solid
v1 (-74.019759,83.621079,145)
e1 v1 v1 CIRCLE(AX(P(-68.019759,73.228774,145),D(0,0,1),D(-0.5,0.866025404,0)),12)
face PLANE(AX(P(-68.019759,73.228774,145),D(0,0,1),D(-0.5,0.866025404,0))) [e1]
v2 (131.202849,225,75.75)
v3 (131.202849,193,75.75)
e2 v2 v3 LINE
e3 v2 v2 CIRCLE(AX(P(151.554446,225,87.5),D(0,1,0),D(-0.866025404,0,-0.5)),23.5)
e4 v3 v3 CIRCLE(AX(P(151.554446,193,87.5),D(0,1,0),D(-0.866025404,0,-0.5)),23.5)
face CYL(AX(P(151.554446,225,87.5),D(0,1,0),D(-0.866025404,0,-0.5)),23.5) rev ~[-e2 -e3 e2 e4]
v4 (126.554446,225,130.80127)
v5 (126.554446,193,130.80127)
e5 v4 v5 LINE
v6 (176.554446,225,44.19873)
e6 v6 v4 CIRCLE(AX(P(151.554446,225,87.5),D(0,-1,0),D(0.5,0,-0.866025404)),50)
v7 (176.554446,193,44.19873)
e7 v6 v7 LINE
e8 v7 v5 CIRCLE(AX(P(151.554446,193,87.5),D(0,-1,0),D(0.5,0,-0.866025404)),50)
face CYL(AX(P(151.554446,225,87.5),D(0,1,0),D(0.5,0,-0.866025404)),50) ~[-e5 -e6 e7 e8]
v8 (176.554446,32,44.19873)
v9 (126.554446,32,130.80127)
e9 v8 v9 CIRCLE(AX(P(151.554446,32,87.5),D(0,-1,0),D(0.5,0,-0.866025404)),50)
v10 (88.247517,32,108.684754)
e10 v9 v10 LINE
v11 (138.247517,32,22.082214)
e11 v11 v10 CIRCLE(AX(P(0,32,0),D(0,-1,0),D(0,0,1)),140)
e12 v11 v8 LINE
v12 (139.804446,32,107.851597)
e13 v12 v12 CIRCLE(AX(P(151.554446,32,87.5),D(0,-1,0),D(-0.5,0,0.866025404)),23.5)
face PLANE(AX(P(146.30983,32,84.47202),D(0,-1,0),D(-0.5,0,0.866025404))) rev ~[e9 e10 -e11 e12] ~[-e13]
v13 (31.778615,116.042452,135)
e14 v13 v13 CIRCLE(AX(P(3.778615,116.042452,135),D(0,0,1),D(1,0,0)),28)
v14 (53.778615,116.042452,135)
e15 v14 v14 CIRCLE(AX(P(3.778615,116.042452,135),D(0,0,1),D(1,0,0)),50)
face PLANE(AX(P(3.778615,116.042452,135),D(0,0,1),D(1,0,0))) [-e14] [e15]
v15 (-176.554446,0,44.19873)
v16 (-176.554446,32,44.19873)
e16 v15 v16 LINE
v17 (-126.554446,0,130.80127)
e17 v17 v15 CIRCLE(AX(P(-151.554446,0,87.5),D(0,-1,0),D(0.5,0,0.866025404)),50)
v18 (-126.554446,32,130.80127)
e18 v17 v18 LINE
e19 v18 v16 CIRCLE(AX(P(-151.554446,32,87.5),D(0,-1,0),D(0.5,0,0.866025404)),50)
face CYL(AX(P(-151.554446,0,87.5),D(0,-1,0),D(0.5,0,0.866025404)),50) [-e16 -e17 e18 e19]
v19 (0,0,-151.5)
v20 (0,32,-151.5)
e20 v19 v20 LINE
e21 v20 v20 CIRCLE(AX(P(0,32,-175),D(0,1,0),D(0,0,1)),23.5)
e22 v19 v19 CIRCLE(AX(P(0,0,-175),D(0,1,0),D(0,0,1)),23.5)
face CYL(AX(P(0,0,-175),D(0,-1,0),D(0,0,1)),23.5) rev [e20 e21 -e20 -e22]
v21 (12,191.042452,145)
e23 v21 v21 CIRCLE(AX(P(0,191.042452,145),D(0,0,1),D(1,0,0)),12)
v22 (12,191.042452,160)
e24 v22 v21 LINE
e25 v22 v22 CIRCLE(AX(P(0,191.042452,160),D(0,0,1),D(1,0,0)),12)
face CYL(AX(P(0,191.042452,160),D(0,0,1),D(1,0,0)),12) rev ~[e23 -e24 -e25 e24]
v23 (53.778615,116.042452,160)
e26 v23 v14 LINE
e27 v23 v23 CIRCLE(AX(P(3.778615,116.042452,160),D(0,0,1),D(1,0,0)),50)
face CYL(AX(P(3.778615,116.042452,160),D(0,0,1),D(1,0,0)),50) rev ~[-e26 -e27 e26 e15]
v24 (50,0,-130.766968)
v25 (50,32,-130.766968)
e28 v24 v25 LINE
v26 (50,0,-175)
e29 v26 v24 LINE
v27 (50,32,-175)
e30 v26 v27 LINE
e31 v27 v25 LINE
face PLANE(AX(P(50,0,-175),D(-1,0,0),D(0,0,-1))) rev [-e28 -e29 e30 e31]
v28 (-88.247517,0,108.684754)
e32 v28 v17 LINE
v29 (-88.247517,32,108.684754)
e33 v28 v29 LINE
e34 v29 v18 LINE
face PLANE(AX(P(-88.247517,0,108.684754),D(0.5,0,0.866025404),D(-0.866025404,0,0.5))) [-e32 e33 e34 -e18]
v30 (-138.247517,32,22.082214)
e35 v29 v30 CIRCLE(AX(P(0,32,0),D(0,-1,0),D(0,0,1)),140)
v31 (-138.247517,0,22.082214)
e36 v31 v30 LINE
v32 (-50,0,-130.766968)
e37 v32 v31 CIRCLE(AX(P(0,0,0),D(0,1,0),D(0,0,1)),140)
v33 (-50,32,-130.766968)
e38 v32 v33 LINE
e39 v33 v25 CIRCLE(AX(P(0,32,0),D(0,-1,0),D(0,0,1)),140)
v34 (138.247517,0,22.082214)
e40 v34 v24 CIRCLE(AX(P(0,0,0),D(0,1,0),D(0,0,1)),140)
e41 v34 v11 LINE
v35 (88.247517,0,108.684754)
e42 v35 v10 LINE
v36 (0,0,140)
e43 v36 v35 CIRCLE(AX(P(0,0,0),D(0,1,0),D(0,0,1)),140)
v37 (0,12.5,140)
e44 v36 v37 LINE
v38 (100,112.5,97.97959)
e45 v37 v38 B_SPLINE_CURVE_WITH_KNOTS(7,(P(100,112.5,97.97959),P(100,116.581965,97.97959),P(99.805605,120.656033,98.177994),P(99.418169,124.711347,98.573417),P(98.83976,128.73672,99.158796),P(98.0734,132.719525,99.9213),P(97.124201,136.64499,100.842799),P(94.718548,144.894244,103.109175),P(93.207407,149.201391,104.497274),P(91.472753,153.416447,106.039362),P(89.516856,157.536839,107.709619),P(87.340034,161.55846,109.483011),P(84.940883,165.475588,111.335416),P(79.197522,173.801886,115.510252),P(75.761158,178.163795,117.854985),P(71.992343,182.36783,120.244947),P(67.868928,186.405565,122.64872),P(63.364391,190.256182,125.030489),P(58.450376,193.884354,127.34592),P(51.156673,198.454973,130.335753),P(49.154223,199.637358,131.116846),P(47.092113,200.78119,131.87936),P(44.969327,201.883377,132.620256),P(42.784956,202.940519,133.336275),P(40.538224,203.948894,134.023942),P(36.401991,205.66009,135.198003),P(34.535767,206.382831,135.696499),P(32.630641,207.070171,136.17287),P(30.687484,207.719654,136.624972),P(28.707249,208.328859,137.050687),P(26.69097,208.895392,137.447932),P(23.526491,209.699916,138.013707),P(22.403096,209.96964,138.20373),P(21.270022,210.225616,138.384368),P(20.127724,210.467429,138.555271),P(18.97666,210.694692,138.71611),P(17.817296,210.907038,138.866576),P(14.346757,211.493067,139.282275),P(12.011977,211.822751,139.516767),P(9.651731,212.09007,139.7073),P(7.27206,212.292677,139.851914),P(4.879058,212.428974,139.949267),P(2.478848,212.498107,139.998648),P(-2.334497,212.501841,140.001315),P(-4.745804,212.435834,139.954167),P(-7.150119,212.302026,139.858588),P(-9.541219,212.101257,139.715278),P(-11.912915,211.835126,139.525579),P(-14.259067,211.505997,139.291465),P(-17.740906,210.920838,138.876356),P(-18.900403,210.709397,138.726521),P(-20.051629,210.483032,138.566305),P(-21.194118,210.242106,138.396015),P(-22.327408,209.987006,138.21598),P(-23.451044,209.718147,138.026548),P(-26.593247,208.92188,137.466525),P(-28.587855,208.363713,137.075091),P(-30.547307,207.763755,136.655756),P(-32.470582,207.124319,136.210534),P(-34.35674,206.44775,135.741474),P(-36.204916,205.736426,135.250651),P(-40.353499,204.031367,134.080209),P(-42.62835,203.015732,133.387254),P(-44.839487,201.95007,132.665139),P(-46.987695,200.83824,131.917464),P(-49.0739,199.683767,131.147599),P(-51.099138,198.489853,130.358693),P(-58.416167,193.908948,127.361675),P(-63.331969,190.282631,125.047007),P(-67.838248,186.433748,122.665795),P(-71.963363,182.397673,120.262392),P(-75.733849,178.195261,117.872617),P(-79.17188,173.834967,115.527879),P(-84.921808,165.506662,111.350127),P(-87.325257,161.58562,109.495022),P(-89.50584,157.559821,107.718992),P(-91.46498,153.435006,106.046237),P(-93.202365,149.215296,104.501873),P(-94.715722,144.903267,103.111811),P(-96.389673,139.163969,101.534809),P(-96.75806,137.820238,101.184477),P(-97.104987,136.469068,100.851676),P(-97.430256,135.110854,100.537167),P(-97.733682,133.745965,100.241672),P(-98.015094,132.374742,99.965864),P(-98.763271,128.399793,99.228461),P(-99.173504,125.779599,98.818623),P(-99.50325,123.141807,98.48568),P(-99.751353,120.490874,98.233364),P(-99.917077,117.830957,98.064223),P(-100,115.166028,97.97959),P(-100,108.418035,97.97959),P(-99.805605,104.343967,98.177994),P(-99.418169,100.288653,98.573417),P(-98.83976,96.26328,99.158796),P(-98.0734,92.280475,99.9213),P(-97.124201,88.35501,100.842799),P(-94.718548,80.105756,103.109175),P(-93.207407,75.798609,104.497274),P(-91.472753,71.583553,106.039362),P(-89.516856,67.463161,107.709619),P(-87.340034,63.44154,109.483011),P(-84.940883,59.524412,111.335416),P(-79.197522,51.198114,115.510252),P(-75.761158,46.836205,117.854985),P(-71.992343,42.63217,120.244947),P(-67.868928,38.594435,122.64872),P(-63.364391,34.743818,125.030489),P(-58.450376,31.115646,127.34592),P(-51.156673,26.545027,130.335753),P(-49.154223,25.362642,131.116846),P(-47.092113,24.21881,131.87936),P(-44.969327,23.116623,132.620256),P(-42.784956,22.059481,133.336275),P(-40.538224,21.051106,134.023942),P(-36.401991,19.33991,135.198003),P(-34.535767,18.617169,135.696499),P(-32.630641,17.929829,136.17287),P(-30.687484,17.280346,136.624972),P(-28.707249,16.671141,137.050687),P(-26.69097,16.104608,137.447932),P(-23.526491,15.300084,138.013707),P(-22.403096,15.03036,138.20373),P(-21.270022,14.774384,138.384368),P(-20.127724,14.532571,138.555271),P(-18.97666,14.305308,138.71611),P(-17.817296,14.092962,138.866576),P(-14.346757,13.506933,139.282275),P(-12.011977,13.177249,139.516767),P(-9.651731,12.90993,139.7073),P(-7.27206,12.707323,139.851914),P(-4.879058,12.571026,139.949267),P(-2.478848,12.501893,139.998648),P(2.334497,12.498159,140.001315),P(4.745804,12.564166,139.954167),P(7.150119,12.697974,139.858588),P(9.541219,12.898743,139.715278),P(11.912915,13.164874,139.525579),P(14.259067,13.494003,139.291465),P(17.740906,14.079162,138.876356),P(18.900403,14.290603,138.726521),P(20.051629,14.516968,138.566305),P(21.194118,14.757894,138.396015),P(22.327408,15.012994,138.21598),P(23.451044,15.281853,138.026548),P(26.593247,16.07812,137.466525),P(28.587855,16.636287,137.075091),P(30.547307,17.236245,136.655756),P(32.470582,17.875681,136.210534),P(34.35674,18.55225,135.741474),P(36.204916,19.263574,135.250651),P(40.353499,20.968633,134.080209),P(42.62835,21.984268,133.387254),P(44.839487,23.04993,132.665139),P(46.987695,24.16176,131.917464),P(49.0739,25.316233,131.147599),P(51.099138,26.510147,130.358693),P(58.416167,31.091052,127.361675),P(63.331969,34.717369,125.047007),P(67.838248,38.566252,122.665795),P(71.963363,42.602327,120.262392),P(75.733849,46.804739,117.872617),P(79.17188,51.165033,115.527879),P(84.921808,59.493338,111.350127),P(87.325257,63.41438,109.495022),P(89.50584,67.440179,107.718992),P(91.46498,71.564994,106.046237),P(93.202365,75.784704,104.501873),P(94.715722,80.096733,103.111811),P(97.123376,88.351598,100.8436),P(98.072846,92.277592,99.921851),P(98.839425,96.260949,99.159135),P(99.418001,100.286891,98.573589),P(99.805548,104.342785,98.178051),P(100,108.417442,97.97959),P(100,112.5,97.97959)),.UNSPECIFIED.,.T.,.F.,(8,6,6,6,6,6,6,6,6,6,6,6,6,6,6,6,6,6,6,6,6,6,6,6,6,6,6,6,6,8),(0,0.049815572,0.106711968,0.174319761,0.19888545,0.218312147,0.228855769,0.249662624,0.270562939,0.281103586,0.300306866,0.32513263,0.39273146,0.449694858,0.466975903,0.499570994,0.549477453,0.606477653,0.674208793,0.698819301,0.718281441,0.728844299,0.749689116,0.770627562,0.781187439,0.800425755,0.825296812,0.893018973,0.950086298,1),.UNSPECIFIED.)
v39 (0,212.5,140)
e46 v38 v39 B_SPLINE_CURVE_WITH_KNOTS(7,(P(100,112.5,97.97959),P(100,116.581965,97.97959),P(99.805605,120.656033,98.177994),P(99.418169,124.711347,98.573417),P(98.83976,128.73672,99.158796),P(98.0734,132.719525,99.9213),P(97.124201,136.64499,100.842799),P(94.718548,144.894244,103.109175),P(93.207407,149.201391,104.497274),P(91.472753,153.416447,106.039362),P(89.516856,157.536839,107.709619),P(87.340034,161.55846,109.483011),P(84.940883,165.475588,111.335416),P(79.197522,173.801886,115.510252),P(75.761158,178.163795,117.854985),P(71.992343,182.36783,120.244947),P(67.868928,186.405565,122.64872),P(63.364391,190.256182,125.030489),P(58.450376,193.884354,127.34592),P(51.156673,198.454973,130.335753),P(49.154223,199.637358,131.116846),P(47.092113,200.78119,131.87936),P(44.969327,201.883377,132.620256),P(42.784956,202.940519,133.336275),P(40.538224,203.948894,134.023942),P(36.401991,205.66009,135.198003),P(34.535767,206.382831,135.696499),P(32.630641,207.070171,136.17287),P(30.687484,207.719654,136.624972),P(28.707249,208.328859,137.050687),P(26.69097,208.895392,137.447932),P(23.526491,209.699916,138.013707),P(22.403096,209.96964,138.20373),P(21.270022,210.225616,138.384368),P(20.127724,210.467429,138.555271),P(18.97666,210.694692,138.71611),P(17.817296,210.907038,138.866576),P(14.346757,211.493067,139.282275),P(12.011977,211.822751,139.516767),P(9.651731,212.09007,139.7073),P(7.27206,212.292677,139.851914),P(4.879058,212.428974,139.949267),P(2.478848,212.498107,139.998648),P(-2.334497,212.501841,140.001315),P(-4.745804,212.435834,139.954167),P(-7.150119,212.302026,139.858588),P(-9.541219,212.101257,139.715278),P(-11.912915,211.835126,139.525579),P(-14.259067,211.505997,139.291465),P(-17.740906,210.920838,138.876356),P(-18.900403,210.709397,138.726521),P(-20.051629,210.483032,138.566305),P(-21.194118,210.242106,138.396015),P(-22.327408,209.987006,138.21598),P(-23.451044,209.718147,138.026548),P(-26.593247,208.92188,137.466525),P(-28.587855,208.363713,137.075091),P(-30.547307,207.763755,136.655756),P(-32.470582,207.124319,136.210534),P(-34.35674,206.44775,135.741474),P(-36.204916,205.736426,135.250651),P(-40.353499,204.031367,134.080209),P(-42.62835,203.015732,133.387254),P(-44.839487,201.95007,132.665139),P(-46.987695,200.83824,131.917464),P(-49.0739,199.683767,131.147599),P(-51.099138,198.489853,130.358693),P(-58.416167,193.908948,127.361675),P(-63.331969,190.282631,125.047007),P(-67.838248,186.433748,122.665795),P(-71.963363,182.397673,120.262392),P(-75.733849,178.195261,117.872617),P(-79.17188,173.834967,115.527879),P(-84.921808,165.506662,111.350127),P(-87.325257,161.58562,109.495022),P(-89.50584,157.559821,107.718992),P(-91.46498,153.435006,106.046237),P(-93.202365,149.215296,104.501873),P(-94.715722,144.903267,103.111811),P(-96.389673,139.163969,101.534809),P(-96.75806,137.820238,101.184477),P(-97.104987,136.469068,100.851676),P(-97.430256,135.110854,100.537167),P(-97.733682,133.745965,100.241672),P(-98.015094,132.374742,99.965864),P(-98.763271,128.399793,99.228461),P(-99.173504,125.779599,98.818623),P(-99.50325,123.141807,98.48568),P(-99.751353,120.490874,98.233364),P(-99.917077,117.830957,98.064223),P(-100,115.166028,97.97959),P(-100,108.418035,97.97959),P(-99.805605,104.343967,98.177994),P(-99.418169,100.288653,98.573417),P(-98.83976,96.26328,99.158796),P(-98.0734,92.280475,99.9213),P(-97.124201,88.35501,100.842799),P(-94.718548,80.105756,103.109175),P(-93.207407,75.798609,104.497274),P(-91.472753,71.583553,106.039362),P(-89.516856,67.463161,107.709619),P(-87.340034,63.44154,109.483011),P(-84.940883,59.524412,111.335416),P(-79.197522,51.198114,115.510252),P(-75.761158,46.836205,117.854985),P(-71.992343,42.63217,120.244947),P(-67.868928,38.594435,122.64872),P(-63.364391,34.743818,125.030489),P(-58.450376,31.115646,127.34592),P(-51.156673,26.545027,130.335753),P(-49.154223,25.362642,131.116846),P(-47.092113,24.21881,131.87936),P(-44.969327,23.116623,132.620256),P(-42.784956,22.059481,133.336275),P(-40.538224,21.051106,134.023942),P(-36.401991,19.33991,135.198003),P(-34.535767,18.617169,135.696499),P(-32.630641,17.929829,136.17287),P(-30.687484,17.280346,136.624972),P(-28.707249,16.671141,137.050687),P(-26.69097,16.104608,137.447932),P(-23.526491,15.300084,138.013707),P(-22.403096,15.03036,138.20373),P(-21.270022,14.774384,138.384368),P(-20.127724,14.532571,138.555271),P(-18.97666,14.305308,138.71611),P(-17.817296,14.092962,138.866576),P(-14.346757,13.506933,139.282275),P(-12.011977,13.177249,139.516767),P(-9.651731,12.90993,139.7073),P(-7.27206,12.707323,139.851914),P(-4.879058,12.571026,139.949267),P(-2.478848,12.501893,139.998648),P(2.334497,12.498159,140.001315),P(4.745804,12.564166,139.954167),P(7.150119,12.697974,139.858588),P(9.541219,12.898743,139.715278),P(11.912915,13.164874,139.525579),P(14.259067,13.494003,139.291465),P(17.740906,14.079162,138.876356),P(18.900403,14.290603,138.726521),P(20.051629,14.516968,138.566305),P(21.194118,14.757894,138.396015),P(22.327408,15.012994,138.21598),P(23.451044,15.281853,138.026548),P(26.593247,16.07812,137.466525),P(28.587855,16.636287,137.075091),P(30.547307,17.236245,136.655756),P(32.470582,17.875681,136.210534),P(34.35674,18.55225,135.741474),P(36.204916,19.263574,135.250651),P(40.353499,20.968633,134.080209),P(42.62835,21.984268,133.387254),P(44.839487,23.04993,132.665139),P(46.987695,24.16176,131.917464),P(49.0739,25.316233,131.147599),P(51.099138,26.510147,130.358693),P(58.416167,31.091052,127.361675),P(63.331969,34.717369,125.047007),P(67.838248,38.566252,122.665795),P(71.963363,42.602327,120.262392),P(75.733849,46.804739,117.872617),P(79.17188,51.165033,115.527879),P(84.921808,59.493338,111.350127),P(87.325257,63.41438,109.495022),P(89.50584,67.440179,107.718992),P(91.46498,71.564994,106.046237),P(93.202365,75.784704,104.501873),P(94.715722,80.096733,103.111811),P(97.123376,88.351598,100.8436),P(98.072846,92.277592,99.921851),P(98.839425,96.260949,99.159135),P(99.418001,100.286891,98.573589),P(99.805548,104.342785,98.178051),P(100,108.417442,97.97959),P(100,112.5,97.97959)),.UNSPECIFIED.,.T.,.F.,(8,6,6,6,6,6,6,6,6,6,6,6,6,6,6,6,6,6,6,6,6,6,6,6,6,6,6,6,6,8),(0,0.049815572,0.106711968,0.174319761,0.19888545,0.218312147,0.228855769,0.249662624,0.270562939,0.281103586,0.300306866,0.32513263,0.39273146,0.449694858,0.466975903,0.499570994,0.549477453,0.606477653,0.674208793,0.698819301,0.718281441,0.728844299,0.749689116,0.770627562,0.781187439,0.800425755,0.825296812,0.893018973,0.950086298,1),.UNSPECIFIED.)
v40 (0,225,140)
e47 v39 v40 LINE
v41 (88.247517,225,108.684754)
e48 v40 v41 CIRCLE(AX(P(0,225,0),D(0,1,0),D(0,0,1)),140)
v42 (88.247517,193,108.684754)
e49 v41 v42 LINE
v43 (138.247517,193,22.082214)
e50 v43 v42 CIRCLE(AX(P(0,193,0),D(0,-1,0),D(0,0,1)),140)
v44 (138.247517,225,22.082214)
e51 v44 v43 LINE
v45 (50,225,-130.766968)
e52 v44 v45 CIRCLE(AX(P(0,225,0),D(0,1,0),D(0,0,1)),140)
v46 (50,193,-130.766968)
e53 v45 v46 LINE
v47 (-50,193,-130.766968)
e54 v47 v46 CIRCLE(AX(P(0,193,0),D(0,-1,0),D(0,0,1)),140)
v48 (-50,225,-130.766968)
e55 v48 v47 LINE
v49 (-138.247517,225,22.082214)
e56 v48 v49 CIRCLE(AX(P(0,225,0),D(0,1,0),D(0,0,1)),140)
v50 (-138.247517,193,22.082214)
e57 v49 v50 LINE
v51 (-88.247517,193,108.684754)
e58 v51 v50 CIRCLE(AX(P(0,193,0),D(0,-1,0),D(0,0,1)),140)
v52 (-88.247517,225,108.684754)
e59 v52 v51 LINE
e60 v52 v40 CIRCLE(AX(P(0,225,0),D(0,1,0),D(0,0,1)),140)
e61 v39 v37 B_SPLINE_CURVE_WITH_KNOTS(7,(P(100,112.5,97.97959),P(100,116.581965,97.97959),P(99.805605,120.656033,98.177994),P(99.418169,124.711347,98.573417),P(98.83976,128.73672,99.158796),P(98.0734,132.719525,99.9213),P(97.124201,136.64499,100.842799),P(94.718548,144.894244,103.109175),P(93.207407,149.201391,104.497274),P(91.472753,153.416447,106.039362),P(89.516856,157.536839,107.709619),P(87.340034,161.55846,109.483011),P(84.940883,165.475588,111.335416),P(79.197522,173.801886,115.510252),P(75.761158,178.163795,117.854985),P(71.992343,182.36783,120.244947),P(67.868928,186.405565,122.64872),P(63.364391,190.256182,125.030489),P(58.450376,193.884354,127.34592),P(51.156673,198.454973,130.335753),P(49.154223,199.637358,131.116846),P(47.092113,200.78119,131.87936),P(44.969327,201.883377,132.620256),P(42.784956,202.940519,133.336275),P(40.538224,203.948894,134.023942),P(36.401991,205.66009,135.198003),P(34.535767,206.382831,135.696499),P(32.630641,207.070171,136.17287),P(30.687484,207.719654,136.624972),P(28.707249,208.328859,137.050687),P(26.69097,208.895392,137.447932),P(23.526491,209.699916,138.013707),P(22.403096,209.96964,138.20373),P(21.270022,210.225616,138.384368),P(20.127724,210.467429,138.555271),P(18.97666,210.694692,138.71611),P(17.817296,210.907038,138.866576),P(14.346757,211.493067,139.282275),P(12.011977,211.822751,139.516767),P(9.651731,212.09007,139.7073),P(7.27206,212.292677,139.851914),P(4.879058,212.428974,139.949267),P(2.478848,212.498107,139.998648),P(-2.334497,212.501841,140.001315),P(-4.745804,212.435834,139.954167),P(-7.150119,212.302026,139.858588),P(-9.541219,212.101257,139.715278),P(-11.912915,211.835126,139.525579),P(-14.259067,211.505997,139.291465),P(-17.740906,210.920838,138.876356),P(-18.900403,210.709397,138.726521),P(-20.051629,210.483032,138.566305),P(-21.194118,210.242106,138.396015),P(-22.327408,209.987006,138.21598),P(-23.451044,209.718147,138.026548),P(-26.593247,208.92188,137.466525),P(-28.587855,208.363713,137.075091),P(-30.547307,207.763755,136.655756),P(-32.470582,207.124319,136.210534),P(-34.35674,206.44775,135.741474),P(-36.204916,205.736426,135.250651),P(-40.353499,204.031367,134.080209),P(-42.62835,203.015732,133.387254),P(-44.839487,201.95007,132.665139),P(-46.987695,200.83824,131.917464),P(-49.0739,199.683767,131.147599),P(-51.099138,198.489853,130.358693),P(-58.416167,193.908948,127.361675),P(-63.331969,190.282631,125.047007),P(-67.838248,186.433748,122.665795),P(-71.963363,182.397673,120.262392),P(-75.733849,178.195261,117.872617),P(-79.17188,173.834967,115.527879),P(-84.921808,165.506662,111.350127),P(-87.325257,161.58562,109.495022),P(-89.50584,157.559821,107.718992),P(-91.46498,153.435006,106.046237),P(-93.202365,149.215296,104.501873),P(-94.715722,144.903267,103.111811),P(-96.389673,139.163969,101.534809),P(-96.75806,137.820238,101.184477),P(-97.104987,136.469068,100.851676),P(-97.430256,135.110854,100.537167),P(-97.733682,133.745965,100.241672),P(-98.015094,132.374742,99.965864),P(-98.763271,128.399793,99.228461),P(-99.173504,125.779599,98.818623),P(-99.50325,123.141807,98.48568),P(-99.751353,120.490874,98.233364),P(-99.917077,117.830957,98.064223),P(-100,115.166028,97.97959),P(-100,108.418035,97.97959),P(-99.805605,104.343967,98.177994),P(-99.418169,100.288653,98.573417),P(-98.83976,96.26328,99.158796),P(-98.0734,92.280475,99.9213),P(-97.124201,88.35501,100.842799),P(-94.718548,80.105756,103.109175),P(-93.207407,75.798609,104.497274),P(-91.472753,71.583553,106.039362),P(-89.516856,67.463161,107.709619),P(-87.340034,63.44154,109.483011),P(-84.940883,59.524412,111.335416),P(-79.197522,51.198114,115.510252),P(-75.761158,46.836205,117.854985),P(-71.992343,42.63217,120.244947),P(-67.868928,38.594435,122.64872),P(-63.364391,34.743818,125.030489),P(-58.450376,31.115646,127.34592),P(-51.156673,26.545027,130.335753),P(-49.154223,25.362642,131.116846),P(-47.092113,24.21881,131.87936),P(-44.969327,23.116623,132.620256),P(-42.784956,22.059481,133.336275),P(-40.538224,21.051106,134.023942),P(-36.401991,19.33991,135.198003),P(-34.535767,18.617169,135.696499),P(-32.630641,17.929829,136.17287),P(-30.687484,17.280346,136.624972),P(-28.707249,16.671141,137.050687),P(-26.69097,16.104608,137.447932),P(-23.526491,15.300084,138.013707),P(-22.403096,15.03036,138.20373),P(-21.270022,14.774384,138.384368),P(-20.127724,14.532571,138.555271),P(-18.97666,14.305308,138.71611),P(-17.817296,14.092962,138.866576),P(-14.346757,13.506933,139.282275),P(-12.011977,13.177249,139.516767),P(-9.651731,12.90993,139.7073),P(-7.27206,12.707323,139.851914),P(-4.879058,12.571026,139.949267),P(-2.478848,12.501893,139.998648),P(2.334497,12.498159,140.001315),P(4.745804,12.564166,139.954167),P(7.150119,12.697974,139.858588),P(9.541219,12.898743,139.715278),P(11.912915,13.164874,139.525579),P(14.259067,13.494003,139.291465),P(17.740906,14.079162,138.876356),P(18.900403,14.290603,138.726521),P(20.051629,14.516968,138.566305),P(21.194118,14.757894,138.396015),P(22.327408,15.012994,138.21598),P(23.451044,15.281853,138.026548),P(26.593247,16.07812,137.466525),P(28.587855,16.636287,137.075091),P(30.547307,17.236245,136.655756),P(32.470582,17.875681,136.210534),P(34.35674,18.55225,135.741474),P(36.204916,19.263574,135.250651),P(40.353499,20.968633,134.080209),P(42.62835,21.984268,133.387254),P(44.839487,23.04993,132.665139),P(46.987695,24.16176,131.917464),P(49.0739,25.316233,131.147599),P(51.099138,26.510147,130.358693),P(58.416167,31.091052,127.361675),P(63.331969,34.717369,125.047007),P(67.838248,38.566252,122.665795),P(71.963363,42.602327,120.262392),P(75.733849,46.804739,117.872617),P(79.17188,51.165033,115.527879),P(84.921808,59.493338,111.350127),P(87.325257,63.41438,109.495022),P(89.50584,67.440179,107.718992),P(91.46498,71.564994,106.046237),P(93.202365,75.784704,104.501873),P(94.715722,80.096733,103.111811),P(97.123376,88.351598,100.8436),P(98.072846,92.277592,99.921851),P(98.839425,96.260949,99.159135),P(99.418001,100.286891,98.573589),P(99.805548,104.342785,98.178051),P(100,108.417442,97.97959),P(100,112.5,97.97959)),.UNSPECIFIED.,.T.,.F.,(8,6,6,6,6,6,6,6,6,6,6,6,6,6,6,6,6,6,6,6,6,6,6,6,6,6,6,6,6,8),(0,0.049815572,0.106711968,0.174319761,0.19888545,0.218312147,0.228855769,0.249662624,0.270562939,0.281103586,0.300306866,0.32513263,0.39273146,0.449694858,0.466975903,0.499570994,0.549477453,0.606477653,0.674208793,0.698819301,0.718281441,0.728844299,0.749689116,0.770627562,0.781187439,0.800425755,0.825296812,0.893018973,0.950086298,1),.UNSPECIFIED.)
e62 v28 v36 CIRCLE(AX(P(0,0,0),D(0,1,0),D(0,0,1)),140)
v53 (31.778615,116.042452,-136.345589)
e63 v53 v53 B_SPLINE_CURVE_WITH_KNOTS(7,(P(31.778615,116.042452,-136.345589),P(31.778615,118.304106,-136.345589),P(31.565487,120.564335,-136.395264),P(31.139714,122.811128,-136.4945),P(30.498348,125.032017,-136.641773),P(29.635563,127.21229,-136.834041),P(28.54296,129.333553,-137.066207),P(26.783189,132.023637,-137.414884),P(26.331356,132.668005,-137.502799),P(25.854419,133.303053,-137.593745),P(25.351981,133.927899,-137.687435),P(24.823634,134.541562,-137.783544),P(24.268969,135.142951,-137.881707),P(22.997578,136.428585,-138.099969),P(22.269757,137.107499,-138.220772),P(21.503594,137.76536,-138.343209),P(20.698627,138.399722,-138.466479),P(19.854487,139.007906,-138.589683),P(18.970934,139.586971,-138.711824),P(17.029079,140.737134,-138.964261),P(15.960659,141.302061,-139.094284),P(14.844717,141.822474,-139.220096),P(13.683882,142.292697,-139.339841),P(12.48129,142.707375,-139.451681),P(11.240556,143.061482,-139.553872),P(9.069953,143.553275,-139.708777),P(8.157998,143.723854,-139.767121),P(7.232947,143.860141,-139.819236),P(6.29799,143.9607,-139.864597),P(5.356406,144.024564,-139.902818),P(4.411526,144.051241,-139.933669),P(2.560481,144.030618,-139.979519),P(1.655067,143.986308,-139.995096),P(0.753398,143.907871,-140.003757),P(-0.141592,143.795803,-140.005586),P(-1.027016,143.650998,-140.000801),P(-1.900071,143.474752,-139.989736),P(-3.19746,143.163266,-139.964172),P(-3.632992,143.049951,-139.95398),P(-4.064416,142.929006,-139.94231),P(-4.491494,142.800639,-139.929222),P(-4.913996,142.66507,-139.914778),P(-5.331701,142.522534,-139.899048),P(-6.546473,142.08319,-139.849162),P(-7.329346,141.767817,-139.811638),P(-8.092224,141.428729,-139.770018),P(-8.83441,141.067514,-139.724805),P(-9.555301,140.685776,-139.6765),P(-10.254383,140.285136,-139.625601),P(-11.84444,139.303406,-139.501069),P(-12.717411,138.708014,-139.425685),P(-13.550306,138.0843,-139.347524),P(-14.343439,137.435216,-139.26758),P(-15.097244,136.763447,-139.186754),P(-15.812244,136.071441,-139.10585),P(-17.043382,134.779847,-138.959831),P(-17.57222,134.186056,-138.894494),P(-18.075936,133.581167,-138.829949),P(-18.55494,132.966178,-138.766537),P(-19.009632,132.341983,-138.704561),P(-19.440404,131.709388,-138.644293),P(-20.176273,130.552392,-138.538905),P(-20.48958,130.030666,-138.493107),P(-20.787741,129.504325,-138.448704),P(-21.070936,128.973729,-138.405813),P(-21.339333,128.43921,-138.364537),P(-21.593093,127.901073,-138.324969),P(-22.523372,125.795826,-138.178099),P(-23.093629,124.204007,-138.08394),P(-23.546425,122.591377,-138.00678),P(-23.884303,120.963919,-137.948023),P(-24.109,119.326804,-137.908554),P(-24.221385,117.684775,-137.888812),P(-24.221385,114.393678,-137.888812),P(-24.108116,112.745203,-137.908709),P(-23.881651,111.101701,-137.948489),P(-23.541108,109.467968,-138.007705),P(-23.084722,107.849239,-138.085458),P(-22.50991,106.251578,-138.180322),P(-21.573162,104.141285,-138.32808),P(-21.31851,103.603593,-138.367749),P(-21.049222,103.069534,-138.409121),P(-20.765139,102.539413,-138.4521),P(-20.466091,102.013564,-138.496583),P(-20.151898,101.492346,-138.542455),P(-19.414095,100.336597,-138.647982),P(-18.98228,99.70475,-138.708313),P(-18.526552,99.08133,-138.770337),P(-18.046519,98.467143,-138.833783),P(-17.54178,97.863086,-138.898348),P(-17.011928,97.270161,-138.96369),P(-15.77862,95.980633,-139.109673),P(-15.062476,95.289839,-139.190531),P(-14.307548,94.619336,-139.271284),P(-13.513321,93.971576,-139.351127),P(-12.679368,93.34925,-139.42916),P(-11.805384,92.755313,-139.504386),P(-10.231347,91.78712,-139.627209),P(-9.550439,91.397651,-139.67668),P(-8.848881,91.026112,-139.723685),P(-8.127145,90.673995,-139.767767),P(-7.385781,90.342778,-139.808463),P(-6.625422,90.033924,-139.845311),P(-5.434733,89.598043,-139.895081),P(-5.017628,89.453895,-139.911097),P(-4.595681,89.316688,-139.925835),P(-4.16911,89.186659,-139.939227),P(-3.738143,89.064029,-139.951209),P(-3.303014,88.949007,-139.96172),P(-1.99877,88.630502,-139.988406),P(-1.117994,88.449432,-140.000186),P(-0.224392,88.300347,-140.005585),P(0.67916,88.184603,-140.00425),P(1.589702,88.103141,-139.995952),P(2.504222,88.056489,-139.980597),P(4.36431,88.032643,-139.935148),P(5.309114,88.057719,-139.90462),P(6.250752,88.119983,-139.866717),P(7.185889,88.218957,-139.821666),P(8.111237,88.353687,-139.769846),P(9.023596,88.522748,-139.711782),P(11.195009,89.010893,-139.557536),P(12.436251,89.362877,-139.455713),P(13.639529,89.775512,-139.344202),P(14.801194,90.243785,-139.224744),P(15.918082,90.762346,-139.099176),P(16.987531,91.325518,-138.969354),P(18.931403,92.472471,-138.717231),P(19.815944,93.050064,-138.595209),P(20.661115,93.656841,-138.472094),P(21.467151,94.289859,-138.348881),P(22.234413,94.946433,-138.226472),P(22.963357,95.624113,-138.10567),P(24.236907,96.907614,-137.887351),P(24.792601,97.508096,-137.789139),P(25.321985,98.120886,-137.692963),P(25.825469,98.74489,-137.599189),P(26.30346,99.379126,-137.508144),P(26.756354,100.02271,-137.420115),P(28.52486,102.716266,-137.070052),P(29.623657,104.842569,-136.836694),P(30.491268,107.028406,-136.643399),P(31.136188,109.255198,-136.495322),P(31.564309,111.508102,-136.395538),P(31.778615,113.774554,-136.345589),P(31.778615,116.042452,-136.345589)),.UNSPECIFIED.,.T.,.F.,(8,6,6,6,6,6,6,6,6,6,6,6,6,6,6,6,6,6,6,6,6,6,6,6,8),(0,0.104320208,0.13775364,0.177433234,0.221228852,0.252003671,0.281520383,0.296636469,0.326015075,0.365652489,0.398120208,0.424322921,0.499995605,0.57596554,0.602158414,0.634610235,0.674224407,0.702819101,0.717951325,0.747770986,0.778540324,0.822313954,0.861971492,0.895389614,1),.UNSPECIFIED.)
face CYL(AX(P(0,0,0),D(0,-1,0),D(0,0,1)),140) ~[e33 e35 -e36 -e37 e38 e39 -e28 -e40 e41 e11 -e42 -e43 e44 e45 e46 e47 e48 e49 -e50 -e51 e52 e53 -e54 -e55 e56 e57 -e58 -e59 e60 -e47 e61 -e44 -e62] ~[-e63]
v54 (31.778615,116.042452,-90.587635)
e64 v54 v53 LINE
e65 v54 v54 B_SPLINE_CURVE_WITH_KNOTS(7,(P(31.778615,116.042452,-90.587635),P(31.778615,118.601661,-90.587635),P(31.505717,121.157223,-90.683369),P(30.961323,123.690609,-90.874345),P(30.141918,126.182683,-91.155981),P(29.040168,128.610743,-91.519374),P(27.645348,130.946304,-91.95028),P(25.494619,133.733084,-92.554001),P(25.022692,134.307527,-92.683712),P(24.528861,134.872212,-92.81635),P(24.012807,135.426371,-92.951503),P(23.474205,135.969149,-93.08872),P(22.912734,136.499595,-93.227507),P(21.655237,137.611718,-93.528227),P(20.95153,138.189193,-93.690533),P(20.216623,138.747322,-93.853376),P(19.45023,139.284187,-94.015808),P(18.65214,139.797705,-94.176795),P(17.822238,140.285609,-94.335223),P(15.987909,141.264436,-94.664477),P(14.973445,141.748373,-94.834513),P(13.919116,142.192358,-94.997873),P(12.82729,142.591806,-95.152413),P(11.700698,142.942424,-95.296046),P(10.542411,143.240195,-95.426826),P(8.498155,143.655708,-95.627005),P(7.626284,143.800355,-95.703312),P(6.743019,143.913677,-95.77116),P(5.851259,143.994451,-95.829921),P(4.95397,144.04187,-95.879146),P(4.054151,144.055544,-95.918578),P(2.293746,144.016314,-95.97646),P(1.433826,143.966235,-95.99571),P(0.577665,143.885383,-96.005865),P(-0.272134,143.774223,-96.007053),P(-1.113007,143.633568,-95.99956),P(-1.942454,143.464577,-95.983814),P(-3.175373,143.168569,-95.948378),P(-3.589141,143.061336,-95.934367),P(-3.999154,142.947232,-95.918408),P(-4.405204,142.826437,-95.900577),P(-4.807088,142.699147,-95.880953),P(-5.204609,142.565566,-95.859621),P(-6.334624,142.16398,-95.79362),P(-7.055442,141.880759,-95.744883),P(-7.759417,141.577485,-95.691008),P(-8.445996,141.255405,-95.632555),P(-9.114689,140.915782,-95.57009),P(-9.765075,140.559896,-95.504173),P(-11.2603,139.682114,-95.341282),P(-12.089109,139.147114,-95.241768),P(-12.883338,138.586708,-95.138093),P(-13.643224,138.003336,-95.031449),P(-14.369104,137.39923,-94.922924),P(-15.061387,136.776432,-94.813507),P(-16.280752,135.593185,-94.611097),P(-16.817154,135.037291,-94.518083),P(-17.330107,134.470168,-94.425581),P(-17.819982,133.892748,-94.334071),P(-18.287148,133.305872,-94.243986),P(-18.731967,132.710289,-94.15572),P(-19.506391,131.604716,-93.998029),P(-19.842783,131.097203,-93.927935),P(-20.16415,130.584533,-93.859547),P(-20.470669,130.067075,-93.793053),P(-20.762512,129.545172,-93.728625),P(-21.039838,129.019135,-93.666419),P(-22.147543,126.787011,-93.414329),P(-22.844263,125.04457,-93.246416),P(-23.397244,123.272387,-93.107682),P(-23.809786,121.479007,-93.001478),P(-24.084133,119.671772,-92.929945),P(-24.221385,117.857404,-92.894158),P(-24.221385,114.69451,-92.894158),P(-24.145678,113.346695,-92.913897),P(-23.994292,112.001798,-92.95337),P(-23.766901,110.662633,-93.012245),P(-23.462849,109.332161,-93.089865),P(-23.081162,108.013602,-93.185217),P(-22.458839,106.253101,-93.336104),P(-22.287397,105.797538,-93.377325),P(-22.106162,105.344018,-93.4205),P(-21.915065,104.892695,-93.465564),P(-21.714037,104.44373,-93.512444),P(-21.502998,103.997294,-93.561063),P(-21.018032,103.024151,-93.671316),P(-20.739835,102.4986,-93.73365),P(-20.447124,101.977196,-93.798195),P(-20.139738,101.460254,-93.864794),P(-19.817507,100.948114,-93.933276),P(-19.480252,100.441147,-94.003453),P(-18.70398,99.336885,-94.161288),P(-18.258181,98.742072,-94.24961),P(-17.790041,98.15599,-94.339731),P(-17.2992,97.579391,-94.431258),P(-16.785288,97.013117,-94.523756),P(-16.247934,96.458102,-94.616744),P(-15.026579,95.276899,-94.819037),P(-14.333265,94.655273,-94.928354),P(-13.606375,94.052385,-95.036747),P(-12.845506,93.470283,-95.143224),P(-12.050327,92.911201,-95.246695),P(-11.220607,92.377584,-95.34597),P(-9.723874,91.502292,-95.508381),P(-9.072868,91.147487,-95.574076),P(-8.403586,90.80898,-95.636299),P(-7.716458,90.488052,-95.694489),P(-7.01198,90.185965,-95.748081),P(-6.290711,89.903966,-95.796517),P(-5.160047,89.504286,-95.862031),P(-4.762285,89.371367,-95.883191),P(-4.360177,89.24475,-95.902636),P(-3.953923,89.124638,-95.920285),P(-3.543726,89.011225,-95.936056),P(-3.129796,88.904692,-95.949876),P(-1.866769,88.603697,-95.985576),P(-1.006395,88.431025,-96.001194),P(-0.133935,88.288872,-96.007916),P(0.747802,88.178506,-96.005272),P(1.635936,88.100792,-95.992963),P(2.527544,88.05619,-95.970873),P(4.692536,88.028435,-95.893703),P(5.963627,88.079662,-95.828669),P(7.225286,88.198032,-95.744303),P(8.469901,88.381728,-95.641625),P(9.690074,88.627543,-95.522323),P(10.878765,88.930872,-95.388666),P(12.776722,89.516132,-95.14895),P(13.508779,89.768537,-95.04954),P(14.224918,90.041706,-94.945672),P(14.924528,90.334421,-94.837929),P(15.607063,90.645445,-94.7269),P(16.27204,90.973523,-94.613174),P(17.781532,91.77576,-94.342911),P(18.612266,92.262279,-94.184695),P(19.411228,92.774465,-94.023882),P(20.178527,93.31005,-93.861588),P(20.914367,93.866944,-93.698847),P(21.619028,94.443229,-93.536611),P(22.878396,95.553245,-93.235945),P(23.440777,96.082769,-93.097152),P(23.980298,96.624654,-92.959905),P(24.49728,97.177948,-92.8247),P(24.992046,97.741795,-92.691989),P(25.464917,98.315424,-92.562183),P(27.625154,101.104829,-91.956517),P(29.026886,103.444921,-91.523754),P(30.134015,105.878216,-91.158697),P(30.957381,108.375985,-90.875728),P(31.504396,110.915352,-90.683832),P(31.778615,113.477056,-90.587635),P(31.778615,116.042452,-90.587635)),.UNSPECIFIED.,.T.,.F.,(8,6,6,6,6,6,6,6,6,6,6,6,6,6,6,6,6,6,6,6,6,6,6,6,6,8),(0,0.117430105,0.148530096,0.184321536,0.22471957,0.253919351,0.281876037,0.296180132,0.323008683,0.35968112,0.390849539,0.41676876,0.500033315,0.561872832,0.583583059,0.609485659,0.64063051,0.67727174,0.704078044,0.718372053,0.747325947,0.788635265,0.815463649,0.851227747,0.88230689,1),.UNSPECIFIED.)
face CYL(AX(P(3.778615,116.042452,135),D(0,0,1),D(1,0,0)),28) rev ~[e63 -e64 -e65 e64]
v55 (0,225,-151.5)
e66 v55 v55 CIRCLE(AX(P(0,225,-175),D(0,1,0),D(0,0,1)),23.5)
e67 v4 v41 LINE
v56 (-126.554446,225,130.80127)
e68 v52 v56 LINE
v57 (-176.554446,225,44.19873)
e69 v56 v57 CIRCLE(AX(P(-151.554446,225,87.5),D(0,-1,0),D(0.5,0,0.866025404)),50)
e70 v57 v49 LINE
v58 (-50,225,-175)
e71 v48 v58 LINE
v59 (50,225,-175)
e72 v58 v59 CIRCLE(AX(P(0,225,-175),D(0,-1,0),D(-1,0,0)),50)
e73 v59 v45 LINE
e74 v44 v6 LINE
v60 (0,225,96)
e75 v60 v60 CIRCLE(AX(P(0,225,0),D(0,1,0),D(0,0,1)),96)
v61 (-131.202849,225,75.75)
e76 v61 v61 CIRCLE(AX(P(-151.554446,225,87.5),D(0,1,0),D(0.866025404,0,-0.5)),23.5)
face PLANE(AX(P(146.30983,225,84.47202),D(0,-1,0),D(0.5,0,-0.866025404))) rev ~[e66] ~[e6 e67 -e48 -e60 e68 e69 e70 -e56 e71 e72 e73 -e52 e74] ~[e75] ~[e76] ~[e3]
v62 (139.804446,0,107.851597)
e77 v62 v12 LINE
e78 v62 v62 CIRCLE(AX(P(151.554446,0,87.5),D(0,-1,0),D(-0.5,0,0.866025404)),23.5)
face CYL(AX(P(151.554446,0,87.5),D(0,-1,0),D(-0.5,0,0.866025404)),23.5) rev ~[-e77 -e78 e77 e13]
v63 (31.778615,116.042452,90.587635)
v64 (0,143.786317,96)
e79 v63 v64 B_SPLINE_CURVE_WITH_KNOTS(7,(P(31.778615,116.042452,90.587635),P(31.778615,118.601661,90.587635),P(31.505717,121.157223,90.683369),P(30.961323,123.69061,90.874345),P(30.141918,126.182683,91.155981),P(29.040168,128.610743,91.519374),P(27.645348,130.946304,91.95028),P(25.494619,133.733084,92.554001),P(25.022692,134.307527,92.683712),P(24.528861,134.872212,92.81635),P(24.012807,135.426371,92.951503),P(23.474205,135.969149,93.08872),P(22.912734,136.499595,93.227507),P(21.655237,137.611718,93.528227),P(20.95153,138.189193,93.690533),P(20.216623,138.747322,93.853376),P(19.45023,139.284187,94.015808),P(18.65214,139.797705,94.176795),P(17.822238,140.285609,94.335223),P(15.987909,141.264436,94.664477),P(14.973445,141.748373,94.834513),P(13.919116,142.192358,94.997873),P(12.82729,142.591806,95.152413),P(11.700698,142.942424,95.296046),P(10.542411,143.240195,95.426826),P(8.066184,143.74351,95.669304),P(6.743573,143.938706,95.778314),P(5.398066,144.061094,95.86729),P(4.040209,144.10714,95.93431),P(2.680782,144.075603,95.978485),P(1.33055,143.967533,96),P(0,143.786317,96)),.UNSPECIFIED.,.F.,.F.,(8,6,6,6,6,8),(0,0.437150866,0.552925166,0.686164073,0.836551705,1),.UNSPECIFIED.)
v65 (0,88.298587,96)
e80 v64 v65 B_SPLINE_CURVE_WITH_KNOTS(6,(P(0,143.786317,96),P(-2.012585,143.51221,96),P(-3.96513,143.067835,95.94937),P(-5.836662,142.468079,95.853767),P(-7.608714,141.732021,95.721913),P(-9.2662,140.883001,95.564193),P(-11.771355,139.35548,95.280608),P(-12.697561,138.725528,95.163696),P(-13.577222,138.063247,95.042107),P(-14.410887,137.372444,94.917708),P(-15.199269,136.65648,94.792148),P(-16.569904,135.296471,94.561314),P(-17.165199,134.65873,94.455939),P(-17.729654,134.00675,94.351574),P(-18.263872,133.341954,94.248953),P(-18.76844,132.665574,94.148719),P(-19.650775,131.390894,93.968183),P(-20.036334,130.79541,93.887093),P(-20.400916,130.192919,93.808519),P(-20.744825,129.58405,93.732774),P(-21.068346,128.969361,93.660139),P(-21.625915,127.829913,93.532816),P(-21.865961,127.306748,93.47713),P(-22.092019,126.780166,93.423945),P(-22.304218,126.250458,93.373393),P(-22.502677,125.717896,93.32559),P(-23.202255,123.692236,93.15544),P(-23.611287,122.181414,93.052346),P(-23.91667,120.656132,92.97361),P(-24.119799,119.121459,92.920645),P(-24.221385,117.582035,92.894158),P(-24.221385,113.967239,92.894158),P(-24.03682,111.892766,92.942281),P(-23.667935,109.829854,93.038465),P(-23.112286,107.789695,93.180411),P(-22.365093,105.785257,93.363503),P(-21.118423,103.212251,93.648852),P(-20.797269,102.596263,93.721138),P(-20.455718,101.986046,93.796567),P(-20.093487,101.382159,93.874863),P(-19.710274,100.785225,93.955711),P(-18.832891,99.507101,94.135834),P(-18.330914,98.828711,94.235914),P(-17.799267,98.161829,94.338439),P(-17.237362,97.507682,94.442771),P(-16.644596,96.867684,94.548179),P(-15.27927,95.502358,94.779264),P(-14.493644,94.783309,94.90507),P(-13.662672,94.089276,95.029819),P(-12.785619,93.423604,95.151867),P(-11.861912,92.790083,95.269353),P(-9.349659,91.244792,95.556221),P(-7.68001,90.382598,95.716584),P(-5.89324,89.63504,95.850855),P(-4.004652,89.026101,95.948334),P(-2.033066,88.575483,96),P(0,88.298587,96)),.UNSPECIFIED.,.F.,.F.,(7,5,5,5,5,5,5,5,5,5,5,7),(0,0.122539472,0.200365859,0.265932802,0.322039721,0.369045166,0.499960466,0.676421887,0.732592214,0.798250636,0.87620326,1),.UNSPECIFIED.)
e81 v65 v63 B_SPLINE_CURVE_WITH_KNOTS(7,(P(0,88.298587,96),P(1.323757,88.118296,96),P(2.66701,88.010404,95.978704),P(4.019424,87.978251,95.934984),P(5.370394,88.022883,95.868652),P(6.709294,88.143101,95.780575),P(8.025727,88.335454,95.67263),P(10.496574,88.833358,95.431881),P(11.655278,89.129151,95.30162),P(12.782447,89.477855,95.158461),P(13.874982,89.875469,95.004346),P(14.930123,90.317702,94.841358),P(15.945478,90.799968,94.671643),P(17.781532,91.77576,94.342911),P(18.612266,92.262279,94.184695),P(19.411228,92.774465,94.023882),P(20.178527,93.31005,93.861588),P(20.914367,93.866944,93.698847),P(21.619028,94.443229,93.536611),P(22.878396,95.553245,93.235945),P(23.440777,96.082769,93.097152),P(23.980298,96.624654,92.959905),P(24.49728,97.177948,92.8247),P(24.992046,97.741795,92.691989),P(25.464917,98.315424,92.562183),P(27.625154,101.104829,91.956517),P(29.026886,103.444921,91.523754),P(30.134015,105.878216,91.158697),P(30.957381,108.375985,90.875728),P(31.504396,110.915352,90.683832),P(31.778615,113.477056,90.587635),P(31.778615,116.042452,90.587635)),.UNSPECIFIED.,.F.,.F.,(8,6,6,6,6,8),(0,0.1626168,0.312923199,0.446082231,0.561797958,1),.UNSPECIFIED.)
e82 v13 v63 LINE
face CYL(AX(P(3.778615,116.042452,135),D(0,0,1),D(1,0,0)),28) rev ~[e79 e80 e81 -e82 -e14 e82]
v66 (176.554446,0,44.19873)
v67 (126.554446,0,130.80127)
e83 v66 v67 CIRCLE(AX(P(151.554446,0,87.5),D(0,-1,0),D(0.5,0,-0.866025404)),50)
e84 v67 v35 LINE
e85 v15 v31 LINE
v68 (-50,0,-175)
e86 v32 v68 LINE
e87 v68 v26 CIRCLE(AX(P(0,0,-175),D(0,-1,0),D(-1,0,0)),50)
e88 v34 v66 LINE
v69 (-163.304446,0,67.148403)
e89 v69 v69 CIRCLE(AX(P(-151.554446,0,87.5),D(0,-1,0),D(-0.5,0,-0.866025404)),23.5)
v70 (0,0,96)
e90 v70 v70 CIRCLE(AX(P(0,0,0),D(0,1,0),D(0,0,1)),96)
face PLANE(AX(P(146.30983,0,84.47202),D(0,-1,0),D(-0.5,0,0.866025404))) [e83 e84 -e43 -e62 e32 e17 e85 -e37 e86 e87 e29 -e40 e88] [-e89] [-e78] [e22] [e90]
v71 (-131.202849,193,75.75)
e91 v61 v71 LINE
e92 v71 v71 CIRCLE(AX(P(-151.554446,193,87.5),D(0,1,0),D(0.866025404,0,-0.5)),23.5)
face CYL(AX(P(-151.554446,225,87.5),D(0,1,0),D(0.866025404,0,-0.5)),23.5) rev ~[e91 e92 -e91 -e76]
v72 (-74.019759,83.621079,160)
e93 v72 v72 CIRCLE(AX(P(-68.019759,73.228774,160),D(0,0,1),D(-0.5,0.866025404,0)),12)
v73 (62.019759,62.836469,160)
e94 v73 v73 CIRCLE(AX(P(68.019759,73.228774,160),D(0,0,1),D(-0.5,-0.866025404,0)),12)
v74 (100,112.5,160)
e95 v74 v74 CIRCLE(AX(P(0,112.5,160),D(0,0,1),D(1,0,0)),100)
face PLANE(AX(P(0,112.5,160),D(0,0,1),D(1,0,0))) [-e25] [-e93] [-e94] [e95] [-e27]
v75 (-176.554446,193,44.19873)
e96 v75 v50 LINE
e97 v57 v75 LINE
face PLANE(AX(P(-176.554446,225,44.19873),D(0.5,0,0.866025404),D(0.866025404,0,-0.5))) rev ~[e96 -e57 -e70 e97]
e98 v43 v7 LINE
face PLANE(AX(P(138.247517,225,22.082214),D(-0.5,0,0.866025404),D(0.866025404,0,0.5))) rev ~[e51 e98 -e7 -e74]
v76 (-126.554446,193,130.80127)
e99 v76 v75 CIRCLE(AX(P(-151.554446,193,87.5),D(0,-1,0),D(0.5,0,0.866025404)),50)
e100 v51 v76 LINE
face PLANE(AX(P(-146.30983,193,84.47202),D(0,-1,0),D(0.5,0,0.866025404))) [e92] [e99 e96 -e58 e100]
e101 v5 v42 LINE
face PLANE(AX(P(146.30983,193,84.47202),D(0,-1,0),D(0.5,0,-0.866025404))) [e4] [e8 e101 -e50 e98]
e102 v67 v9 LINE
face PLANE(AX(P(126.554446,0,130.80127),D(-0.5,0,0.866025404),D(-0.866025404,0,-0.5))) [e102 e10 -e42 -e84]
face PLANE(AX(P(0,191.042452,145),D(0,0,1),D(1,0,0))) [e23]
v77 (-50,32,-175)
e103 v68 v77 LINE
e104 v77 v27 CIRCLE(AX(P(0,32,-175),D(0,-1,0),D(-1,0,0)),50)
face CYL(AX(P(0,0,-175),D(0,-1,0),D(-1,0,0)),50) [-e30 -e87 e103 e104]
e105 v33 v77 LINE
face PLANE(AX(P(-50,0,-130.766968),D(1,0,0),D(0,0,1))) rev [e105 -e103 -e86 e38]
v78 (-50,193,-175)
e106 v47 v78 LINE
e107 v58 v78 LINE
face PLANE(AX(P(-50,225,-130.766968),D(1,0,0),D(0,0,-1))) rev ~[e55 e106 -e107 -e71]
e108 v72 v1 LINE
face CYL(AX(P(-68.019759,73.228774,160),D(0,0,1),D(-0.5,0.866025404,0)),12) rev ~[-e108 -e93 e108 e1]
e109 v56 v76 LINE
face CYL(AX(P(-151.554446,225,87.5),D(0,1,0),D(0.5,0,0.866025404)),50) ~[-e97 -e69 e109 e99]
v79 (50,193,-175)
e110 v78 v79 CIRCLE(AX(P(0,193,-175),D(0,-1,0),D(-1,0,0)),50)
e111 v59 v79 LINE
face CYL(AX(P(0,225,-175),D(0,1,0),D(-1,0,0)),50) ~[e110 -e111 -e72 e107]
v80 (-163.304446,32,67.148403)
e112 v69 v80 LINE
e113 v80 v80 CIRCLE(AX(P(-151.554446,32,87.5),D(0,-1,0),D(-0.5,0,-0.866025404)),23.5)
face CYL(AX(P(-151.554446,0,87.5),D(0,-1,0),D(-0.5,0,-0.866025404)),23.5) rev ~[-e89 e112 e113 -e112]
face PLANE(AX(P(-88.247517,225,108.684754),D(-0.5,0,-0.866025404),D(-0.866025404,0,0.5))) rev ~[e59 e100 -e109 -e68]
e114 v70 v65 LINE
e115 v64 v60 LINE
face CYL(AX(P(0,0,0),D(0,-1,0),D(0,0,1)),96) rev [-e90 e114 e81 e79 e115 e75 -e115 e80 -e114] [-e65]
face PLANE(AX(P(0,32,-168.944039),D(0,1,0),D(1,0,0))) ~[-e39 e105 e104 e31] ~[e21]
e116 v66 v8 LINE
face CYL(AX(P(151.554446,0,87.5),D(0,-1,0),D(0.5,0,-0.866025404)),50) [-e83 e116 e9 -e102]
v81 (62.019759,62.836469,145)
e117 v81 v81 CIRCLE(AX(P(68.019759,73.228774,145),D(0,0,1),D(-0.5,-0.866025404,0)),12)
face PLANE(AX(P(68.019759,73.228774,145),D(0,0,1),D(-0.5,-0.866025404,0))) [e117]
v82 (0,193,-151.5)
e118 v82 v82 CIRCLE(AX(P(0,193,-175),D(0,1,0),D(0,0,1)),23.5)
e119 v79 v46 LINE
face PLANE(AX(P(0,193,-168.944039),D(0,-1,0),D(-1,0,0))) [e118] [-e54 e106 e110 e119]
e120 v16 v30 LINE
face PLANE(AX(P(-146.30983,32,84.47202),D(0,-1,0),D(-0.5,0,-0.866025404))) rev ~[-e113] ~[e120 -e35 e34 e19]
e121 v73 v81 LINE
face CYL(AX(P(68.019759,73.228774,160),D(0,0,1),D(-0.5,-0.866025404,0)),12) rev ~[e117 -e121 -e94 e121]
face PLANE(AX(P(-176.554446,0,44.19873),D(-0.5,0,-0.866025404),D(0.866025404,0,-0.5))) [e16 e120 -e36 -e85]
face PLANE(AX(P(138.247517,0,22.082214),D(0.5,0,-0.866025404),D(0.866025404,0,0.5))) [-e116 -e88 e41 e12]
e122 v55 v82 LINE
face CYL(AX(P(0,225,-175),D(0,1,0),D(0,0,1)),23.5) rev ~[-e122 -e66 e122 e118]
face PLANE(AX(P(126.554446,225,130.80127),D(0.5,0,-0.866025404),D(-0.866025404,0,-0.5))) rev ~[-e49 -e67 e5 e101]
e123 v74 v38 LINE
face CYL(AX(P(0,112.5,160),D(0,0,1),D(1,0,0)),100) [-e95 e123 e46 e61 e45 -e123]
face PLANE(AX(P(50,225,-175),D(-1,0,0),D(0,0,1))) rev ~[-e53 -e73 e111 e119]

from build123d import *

# Parameters (mm, degrees)
SKETCH1_R                = 140
SKETCH1_R_2              = 96
BOSS_EXTRUDE1_DEPTH      = 225
SKETCH2_R                = 23.5
BOSS_EXTRUDE2_DEPTH      = 32
CIRPATTERN1_COUNT        = 3
MIRROR1_COPY_1_SKETCH_R  = 23.5
MIRROR1_COPY_1_DEPTH     = 32
MIRROR1_COPY_2_SKETCH_R  = 23.5
MIRROR1_COPY_2_DEPTH     = 32
BOSS_EXTRUDE3_REACH      = 491.361
BOSS_EXTRUDE3_END_RADIUS = 140
SKETCH3_R                = 100
SKETCH4_R                = 50
CUT_EXTRUDE1_DEPTH       = 25
SKETCH5_R                = 28
CUT_EXTRUDE2_DEPTH       = 470.945948606
SKETCH7_R                = 12
CUT_EXTRUDE3_DEPTH       = 15
CIRPATTERN2_COUNT        = 3


with BuildPart() as part:
    # Sketch1 → Boss-Extrude1 (new body)
    with BuildSketch(Plane(origin=(0, 0, 0), x_dir=(1, 0, 0), z_dir=(0, 1, 0))):
        with Locations(Location((0, 0, 0), (0, 0, 270))):
            Circle(SKETCH1_R)
        with Locations(Location((0, 0, 0), (0, 0, 270))):
            Circle(SKETCH1_R_2, mode=Mode.SUBTRACT)
    extrude(amount=BOSS_EXTRUDE1_DEPTH)

    # Sketch2 → Boss-Extrude2 (add)
    with BuildSketch(Plane(origin=(0, 225, 0), x_dir=(1, 0, 0), z_dir=(0, 1, 0))):
        with BuildLine():
            Line((50, 175), (50, 130.766968306))
            Line((50, 130.766968306), (-50, 130.766968306))
            Line((-50, 130.766968306), (-50, 175))
            ThreePointArc((-50, 175), (0, 225), (50, 175))
        make_face()
        with Locations(Location((0, 175, 0), (0, 0, 270))):
            Circle(SKETCH2_R, mode=Mode.SUBTRACT)
    boss_extrude2 = extrude(amount=-BOSS_EXTRUDE2_DEPTH)

    # CirPattern1: Boss-Extrude2 ×3 about axis
    cirpattern1_axis = Axis((0, 0, 0), (0, 1, 0))
    for i in range(1, CIRPATTERN1_COUNT):
        add(boss_extrude2.rotate(cirpattern1_axis, i * 360 / CIRPATTERN1_COUNT))

    # Mirror1: Boss-Extrude2 across plane
    add(boss_extrude2.mirror(Plane.ZX.offset(112.5)))

    # Mirror1 copy 1 sketch → Mirror1 copy 1 (add)
    with BuildSketch(Plane(origin=(0, 0, 0), x_dir=(-0.4999999999999998, 0, -0.8660254037844387), z_dir=(0, -1, 0))):
        with BuildLine():
            Line((50, -175), (50, -130.766968306))
            Line((50, -130.766968306), (-50, -130.766968306))
            Line((-50, -130.766968306), (-50, -175))
            ThreePointArc((-50, -175), (0, -225), (50, -175))
        make_face()
        with Locations((0, -175)):
            Circle(MIRROR1_COPY_1_SKETCH_R, mode=Mode.SUBTRACT)
    extrude(amount=-MIRROR1_COPY_1_DEPTH)

    # Mirror1 copy 2 sketch → Mirror1 copy 2 (add)
    with BuildSketch(Plane(origin=(0, 0, 0), x_dir=(-0.5000000000000004, 0, 0.8660254037844384), z_dir=(0, -1, 0))):
        with BuildLine():
            Line((50, -175), (50, -130.766968306))
            Line((50, -130.766968306), (-50, -130.766968306))
            Line((-50, -130.766968306), (-50, -175))
            ThreePointArc((-50, -175), (0, -225), (50, -175))
        make_face()
        with Locations((0, -175)):
            Circle(MIRROR1_COPY_2_SKETCH_R, mode=Mode.SUBTRACT)
    extrude(amount=-MIRROR1_COPY_2_DEPTH)

    # Boss-Extrude3: up to this cylinder (the profile starts outside it)
    boss_extrude3_end = Plane(origin=(0, 112.5, 0), z_dir=(0, -1, 0)) * Cylinder(BOSS_EXTRUDE3_END_RADIUS, 1263.722, mode=Mode.PRIVATE)
    # Sketch3 → Boss-Extrude3 (add, up to the surface)
    with BuildSketch(Plane.XY.offset(160), mode=Mode.PRIVATE) as boss_extrude3_sk1:
        with Locations((0, 112.5)):
            Circle(SKETCH3_R)
    boss_extrude3_tool1 = extrude(boss_extrude3_sk1.sketch, amount=-BOSS_EXTRUDE3_REACH, mode=Mode.PRIVATE) - boss_extrude3_end
    add(boss_extrude3_tool1.solids().sort_by_distance((0, 112.5, 160))[0])

    # Sketch4 → Cut-Extrude1 (cut)
    with BuildSketch(Plane.XY.offset(160)):
        with Locations((3.778615411, 116.042451948)):
            Circle(SKETCH4_R)
    extrude(amount=-CUT_EXTRUDE1_DEPTH, mode=Mode.SUBTRACT)

    # Sketch5 → Cut-Extrude2 (cut, through all)
    with BuildSketch(Plane.XY.offset(135)):
        with Locations((3.778615411, 116.042451948)):
            Circle(SKETCH5_R)
    extrude(amount=-CUT_EXTRUDE2_DEPTH, mode=Mode.SUBTRACT)

    # Sketch7 → Cut-Extrude3 (cut)
    with BuildSketch(Plane.XY.offset(160)):
        with Locations((0, 191.042451948)):
            Circle(SKETCH7_R)
    cut_extrude3 = extrude(amount=-CUT_EXTRUDE3_DEPTH, mode=Mode.SUBTRACT)

    # CirPattern2: Cut-Extrude3 ×3 about axis
    cirpattern2_axis = Axis((0, 112.5, 0), (0, 0, 1))
    for i in range(1, CIRPATTERN2_COUNT):
        add(cut_extrude3.rotate(cirpattern2_axis, i * 360 / CIRPATTERN2_COUNT), mode=Mode.SUBTRACT)


solid = part.part
